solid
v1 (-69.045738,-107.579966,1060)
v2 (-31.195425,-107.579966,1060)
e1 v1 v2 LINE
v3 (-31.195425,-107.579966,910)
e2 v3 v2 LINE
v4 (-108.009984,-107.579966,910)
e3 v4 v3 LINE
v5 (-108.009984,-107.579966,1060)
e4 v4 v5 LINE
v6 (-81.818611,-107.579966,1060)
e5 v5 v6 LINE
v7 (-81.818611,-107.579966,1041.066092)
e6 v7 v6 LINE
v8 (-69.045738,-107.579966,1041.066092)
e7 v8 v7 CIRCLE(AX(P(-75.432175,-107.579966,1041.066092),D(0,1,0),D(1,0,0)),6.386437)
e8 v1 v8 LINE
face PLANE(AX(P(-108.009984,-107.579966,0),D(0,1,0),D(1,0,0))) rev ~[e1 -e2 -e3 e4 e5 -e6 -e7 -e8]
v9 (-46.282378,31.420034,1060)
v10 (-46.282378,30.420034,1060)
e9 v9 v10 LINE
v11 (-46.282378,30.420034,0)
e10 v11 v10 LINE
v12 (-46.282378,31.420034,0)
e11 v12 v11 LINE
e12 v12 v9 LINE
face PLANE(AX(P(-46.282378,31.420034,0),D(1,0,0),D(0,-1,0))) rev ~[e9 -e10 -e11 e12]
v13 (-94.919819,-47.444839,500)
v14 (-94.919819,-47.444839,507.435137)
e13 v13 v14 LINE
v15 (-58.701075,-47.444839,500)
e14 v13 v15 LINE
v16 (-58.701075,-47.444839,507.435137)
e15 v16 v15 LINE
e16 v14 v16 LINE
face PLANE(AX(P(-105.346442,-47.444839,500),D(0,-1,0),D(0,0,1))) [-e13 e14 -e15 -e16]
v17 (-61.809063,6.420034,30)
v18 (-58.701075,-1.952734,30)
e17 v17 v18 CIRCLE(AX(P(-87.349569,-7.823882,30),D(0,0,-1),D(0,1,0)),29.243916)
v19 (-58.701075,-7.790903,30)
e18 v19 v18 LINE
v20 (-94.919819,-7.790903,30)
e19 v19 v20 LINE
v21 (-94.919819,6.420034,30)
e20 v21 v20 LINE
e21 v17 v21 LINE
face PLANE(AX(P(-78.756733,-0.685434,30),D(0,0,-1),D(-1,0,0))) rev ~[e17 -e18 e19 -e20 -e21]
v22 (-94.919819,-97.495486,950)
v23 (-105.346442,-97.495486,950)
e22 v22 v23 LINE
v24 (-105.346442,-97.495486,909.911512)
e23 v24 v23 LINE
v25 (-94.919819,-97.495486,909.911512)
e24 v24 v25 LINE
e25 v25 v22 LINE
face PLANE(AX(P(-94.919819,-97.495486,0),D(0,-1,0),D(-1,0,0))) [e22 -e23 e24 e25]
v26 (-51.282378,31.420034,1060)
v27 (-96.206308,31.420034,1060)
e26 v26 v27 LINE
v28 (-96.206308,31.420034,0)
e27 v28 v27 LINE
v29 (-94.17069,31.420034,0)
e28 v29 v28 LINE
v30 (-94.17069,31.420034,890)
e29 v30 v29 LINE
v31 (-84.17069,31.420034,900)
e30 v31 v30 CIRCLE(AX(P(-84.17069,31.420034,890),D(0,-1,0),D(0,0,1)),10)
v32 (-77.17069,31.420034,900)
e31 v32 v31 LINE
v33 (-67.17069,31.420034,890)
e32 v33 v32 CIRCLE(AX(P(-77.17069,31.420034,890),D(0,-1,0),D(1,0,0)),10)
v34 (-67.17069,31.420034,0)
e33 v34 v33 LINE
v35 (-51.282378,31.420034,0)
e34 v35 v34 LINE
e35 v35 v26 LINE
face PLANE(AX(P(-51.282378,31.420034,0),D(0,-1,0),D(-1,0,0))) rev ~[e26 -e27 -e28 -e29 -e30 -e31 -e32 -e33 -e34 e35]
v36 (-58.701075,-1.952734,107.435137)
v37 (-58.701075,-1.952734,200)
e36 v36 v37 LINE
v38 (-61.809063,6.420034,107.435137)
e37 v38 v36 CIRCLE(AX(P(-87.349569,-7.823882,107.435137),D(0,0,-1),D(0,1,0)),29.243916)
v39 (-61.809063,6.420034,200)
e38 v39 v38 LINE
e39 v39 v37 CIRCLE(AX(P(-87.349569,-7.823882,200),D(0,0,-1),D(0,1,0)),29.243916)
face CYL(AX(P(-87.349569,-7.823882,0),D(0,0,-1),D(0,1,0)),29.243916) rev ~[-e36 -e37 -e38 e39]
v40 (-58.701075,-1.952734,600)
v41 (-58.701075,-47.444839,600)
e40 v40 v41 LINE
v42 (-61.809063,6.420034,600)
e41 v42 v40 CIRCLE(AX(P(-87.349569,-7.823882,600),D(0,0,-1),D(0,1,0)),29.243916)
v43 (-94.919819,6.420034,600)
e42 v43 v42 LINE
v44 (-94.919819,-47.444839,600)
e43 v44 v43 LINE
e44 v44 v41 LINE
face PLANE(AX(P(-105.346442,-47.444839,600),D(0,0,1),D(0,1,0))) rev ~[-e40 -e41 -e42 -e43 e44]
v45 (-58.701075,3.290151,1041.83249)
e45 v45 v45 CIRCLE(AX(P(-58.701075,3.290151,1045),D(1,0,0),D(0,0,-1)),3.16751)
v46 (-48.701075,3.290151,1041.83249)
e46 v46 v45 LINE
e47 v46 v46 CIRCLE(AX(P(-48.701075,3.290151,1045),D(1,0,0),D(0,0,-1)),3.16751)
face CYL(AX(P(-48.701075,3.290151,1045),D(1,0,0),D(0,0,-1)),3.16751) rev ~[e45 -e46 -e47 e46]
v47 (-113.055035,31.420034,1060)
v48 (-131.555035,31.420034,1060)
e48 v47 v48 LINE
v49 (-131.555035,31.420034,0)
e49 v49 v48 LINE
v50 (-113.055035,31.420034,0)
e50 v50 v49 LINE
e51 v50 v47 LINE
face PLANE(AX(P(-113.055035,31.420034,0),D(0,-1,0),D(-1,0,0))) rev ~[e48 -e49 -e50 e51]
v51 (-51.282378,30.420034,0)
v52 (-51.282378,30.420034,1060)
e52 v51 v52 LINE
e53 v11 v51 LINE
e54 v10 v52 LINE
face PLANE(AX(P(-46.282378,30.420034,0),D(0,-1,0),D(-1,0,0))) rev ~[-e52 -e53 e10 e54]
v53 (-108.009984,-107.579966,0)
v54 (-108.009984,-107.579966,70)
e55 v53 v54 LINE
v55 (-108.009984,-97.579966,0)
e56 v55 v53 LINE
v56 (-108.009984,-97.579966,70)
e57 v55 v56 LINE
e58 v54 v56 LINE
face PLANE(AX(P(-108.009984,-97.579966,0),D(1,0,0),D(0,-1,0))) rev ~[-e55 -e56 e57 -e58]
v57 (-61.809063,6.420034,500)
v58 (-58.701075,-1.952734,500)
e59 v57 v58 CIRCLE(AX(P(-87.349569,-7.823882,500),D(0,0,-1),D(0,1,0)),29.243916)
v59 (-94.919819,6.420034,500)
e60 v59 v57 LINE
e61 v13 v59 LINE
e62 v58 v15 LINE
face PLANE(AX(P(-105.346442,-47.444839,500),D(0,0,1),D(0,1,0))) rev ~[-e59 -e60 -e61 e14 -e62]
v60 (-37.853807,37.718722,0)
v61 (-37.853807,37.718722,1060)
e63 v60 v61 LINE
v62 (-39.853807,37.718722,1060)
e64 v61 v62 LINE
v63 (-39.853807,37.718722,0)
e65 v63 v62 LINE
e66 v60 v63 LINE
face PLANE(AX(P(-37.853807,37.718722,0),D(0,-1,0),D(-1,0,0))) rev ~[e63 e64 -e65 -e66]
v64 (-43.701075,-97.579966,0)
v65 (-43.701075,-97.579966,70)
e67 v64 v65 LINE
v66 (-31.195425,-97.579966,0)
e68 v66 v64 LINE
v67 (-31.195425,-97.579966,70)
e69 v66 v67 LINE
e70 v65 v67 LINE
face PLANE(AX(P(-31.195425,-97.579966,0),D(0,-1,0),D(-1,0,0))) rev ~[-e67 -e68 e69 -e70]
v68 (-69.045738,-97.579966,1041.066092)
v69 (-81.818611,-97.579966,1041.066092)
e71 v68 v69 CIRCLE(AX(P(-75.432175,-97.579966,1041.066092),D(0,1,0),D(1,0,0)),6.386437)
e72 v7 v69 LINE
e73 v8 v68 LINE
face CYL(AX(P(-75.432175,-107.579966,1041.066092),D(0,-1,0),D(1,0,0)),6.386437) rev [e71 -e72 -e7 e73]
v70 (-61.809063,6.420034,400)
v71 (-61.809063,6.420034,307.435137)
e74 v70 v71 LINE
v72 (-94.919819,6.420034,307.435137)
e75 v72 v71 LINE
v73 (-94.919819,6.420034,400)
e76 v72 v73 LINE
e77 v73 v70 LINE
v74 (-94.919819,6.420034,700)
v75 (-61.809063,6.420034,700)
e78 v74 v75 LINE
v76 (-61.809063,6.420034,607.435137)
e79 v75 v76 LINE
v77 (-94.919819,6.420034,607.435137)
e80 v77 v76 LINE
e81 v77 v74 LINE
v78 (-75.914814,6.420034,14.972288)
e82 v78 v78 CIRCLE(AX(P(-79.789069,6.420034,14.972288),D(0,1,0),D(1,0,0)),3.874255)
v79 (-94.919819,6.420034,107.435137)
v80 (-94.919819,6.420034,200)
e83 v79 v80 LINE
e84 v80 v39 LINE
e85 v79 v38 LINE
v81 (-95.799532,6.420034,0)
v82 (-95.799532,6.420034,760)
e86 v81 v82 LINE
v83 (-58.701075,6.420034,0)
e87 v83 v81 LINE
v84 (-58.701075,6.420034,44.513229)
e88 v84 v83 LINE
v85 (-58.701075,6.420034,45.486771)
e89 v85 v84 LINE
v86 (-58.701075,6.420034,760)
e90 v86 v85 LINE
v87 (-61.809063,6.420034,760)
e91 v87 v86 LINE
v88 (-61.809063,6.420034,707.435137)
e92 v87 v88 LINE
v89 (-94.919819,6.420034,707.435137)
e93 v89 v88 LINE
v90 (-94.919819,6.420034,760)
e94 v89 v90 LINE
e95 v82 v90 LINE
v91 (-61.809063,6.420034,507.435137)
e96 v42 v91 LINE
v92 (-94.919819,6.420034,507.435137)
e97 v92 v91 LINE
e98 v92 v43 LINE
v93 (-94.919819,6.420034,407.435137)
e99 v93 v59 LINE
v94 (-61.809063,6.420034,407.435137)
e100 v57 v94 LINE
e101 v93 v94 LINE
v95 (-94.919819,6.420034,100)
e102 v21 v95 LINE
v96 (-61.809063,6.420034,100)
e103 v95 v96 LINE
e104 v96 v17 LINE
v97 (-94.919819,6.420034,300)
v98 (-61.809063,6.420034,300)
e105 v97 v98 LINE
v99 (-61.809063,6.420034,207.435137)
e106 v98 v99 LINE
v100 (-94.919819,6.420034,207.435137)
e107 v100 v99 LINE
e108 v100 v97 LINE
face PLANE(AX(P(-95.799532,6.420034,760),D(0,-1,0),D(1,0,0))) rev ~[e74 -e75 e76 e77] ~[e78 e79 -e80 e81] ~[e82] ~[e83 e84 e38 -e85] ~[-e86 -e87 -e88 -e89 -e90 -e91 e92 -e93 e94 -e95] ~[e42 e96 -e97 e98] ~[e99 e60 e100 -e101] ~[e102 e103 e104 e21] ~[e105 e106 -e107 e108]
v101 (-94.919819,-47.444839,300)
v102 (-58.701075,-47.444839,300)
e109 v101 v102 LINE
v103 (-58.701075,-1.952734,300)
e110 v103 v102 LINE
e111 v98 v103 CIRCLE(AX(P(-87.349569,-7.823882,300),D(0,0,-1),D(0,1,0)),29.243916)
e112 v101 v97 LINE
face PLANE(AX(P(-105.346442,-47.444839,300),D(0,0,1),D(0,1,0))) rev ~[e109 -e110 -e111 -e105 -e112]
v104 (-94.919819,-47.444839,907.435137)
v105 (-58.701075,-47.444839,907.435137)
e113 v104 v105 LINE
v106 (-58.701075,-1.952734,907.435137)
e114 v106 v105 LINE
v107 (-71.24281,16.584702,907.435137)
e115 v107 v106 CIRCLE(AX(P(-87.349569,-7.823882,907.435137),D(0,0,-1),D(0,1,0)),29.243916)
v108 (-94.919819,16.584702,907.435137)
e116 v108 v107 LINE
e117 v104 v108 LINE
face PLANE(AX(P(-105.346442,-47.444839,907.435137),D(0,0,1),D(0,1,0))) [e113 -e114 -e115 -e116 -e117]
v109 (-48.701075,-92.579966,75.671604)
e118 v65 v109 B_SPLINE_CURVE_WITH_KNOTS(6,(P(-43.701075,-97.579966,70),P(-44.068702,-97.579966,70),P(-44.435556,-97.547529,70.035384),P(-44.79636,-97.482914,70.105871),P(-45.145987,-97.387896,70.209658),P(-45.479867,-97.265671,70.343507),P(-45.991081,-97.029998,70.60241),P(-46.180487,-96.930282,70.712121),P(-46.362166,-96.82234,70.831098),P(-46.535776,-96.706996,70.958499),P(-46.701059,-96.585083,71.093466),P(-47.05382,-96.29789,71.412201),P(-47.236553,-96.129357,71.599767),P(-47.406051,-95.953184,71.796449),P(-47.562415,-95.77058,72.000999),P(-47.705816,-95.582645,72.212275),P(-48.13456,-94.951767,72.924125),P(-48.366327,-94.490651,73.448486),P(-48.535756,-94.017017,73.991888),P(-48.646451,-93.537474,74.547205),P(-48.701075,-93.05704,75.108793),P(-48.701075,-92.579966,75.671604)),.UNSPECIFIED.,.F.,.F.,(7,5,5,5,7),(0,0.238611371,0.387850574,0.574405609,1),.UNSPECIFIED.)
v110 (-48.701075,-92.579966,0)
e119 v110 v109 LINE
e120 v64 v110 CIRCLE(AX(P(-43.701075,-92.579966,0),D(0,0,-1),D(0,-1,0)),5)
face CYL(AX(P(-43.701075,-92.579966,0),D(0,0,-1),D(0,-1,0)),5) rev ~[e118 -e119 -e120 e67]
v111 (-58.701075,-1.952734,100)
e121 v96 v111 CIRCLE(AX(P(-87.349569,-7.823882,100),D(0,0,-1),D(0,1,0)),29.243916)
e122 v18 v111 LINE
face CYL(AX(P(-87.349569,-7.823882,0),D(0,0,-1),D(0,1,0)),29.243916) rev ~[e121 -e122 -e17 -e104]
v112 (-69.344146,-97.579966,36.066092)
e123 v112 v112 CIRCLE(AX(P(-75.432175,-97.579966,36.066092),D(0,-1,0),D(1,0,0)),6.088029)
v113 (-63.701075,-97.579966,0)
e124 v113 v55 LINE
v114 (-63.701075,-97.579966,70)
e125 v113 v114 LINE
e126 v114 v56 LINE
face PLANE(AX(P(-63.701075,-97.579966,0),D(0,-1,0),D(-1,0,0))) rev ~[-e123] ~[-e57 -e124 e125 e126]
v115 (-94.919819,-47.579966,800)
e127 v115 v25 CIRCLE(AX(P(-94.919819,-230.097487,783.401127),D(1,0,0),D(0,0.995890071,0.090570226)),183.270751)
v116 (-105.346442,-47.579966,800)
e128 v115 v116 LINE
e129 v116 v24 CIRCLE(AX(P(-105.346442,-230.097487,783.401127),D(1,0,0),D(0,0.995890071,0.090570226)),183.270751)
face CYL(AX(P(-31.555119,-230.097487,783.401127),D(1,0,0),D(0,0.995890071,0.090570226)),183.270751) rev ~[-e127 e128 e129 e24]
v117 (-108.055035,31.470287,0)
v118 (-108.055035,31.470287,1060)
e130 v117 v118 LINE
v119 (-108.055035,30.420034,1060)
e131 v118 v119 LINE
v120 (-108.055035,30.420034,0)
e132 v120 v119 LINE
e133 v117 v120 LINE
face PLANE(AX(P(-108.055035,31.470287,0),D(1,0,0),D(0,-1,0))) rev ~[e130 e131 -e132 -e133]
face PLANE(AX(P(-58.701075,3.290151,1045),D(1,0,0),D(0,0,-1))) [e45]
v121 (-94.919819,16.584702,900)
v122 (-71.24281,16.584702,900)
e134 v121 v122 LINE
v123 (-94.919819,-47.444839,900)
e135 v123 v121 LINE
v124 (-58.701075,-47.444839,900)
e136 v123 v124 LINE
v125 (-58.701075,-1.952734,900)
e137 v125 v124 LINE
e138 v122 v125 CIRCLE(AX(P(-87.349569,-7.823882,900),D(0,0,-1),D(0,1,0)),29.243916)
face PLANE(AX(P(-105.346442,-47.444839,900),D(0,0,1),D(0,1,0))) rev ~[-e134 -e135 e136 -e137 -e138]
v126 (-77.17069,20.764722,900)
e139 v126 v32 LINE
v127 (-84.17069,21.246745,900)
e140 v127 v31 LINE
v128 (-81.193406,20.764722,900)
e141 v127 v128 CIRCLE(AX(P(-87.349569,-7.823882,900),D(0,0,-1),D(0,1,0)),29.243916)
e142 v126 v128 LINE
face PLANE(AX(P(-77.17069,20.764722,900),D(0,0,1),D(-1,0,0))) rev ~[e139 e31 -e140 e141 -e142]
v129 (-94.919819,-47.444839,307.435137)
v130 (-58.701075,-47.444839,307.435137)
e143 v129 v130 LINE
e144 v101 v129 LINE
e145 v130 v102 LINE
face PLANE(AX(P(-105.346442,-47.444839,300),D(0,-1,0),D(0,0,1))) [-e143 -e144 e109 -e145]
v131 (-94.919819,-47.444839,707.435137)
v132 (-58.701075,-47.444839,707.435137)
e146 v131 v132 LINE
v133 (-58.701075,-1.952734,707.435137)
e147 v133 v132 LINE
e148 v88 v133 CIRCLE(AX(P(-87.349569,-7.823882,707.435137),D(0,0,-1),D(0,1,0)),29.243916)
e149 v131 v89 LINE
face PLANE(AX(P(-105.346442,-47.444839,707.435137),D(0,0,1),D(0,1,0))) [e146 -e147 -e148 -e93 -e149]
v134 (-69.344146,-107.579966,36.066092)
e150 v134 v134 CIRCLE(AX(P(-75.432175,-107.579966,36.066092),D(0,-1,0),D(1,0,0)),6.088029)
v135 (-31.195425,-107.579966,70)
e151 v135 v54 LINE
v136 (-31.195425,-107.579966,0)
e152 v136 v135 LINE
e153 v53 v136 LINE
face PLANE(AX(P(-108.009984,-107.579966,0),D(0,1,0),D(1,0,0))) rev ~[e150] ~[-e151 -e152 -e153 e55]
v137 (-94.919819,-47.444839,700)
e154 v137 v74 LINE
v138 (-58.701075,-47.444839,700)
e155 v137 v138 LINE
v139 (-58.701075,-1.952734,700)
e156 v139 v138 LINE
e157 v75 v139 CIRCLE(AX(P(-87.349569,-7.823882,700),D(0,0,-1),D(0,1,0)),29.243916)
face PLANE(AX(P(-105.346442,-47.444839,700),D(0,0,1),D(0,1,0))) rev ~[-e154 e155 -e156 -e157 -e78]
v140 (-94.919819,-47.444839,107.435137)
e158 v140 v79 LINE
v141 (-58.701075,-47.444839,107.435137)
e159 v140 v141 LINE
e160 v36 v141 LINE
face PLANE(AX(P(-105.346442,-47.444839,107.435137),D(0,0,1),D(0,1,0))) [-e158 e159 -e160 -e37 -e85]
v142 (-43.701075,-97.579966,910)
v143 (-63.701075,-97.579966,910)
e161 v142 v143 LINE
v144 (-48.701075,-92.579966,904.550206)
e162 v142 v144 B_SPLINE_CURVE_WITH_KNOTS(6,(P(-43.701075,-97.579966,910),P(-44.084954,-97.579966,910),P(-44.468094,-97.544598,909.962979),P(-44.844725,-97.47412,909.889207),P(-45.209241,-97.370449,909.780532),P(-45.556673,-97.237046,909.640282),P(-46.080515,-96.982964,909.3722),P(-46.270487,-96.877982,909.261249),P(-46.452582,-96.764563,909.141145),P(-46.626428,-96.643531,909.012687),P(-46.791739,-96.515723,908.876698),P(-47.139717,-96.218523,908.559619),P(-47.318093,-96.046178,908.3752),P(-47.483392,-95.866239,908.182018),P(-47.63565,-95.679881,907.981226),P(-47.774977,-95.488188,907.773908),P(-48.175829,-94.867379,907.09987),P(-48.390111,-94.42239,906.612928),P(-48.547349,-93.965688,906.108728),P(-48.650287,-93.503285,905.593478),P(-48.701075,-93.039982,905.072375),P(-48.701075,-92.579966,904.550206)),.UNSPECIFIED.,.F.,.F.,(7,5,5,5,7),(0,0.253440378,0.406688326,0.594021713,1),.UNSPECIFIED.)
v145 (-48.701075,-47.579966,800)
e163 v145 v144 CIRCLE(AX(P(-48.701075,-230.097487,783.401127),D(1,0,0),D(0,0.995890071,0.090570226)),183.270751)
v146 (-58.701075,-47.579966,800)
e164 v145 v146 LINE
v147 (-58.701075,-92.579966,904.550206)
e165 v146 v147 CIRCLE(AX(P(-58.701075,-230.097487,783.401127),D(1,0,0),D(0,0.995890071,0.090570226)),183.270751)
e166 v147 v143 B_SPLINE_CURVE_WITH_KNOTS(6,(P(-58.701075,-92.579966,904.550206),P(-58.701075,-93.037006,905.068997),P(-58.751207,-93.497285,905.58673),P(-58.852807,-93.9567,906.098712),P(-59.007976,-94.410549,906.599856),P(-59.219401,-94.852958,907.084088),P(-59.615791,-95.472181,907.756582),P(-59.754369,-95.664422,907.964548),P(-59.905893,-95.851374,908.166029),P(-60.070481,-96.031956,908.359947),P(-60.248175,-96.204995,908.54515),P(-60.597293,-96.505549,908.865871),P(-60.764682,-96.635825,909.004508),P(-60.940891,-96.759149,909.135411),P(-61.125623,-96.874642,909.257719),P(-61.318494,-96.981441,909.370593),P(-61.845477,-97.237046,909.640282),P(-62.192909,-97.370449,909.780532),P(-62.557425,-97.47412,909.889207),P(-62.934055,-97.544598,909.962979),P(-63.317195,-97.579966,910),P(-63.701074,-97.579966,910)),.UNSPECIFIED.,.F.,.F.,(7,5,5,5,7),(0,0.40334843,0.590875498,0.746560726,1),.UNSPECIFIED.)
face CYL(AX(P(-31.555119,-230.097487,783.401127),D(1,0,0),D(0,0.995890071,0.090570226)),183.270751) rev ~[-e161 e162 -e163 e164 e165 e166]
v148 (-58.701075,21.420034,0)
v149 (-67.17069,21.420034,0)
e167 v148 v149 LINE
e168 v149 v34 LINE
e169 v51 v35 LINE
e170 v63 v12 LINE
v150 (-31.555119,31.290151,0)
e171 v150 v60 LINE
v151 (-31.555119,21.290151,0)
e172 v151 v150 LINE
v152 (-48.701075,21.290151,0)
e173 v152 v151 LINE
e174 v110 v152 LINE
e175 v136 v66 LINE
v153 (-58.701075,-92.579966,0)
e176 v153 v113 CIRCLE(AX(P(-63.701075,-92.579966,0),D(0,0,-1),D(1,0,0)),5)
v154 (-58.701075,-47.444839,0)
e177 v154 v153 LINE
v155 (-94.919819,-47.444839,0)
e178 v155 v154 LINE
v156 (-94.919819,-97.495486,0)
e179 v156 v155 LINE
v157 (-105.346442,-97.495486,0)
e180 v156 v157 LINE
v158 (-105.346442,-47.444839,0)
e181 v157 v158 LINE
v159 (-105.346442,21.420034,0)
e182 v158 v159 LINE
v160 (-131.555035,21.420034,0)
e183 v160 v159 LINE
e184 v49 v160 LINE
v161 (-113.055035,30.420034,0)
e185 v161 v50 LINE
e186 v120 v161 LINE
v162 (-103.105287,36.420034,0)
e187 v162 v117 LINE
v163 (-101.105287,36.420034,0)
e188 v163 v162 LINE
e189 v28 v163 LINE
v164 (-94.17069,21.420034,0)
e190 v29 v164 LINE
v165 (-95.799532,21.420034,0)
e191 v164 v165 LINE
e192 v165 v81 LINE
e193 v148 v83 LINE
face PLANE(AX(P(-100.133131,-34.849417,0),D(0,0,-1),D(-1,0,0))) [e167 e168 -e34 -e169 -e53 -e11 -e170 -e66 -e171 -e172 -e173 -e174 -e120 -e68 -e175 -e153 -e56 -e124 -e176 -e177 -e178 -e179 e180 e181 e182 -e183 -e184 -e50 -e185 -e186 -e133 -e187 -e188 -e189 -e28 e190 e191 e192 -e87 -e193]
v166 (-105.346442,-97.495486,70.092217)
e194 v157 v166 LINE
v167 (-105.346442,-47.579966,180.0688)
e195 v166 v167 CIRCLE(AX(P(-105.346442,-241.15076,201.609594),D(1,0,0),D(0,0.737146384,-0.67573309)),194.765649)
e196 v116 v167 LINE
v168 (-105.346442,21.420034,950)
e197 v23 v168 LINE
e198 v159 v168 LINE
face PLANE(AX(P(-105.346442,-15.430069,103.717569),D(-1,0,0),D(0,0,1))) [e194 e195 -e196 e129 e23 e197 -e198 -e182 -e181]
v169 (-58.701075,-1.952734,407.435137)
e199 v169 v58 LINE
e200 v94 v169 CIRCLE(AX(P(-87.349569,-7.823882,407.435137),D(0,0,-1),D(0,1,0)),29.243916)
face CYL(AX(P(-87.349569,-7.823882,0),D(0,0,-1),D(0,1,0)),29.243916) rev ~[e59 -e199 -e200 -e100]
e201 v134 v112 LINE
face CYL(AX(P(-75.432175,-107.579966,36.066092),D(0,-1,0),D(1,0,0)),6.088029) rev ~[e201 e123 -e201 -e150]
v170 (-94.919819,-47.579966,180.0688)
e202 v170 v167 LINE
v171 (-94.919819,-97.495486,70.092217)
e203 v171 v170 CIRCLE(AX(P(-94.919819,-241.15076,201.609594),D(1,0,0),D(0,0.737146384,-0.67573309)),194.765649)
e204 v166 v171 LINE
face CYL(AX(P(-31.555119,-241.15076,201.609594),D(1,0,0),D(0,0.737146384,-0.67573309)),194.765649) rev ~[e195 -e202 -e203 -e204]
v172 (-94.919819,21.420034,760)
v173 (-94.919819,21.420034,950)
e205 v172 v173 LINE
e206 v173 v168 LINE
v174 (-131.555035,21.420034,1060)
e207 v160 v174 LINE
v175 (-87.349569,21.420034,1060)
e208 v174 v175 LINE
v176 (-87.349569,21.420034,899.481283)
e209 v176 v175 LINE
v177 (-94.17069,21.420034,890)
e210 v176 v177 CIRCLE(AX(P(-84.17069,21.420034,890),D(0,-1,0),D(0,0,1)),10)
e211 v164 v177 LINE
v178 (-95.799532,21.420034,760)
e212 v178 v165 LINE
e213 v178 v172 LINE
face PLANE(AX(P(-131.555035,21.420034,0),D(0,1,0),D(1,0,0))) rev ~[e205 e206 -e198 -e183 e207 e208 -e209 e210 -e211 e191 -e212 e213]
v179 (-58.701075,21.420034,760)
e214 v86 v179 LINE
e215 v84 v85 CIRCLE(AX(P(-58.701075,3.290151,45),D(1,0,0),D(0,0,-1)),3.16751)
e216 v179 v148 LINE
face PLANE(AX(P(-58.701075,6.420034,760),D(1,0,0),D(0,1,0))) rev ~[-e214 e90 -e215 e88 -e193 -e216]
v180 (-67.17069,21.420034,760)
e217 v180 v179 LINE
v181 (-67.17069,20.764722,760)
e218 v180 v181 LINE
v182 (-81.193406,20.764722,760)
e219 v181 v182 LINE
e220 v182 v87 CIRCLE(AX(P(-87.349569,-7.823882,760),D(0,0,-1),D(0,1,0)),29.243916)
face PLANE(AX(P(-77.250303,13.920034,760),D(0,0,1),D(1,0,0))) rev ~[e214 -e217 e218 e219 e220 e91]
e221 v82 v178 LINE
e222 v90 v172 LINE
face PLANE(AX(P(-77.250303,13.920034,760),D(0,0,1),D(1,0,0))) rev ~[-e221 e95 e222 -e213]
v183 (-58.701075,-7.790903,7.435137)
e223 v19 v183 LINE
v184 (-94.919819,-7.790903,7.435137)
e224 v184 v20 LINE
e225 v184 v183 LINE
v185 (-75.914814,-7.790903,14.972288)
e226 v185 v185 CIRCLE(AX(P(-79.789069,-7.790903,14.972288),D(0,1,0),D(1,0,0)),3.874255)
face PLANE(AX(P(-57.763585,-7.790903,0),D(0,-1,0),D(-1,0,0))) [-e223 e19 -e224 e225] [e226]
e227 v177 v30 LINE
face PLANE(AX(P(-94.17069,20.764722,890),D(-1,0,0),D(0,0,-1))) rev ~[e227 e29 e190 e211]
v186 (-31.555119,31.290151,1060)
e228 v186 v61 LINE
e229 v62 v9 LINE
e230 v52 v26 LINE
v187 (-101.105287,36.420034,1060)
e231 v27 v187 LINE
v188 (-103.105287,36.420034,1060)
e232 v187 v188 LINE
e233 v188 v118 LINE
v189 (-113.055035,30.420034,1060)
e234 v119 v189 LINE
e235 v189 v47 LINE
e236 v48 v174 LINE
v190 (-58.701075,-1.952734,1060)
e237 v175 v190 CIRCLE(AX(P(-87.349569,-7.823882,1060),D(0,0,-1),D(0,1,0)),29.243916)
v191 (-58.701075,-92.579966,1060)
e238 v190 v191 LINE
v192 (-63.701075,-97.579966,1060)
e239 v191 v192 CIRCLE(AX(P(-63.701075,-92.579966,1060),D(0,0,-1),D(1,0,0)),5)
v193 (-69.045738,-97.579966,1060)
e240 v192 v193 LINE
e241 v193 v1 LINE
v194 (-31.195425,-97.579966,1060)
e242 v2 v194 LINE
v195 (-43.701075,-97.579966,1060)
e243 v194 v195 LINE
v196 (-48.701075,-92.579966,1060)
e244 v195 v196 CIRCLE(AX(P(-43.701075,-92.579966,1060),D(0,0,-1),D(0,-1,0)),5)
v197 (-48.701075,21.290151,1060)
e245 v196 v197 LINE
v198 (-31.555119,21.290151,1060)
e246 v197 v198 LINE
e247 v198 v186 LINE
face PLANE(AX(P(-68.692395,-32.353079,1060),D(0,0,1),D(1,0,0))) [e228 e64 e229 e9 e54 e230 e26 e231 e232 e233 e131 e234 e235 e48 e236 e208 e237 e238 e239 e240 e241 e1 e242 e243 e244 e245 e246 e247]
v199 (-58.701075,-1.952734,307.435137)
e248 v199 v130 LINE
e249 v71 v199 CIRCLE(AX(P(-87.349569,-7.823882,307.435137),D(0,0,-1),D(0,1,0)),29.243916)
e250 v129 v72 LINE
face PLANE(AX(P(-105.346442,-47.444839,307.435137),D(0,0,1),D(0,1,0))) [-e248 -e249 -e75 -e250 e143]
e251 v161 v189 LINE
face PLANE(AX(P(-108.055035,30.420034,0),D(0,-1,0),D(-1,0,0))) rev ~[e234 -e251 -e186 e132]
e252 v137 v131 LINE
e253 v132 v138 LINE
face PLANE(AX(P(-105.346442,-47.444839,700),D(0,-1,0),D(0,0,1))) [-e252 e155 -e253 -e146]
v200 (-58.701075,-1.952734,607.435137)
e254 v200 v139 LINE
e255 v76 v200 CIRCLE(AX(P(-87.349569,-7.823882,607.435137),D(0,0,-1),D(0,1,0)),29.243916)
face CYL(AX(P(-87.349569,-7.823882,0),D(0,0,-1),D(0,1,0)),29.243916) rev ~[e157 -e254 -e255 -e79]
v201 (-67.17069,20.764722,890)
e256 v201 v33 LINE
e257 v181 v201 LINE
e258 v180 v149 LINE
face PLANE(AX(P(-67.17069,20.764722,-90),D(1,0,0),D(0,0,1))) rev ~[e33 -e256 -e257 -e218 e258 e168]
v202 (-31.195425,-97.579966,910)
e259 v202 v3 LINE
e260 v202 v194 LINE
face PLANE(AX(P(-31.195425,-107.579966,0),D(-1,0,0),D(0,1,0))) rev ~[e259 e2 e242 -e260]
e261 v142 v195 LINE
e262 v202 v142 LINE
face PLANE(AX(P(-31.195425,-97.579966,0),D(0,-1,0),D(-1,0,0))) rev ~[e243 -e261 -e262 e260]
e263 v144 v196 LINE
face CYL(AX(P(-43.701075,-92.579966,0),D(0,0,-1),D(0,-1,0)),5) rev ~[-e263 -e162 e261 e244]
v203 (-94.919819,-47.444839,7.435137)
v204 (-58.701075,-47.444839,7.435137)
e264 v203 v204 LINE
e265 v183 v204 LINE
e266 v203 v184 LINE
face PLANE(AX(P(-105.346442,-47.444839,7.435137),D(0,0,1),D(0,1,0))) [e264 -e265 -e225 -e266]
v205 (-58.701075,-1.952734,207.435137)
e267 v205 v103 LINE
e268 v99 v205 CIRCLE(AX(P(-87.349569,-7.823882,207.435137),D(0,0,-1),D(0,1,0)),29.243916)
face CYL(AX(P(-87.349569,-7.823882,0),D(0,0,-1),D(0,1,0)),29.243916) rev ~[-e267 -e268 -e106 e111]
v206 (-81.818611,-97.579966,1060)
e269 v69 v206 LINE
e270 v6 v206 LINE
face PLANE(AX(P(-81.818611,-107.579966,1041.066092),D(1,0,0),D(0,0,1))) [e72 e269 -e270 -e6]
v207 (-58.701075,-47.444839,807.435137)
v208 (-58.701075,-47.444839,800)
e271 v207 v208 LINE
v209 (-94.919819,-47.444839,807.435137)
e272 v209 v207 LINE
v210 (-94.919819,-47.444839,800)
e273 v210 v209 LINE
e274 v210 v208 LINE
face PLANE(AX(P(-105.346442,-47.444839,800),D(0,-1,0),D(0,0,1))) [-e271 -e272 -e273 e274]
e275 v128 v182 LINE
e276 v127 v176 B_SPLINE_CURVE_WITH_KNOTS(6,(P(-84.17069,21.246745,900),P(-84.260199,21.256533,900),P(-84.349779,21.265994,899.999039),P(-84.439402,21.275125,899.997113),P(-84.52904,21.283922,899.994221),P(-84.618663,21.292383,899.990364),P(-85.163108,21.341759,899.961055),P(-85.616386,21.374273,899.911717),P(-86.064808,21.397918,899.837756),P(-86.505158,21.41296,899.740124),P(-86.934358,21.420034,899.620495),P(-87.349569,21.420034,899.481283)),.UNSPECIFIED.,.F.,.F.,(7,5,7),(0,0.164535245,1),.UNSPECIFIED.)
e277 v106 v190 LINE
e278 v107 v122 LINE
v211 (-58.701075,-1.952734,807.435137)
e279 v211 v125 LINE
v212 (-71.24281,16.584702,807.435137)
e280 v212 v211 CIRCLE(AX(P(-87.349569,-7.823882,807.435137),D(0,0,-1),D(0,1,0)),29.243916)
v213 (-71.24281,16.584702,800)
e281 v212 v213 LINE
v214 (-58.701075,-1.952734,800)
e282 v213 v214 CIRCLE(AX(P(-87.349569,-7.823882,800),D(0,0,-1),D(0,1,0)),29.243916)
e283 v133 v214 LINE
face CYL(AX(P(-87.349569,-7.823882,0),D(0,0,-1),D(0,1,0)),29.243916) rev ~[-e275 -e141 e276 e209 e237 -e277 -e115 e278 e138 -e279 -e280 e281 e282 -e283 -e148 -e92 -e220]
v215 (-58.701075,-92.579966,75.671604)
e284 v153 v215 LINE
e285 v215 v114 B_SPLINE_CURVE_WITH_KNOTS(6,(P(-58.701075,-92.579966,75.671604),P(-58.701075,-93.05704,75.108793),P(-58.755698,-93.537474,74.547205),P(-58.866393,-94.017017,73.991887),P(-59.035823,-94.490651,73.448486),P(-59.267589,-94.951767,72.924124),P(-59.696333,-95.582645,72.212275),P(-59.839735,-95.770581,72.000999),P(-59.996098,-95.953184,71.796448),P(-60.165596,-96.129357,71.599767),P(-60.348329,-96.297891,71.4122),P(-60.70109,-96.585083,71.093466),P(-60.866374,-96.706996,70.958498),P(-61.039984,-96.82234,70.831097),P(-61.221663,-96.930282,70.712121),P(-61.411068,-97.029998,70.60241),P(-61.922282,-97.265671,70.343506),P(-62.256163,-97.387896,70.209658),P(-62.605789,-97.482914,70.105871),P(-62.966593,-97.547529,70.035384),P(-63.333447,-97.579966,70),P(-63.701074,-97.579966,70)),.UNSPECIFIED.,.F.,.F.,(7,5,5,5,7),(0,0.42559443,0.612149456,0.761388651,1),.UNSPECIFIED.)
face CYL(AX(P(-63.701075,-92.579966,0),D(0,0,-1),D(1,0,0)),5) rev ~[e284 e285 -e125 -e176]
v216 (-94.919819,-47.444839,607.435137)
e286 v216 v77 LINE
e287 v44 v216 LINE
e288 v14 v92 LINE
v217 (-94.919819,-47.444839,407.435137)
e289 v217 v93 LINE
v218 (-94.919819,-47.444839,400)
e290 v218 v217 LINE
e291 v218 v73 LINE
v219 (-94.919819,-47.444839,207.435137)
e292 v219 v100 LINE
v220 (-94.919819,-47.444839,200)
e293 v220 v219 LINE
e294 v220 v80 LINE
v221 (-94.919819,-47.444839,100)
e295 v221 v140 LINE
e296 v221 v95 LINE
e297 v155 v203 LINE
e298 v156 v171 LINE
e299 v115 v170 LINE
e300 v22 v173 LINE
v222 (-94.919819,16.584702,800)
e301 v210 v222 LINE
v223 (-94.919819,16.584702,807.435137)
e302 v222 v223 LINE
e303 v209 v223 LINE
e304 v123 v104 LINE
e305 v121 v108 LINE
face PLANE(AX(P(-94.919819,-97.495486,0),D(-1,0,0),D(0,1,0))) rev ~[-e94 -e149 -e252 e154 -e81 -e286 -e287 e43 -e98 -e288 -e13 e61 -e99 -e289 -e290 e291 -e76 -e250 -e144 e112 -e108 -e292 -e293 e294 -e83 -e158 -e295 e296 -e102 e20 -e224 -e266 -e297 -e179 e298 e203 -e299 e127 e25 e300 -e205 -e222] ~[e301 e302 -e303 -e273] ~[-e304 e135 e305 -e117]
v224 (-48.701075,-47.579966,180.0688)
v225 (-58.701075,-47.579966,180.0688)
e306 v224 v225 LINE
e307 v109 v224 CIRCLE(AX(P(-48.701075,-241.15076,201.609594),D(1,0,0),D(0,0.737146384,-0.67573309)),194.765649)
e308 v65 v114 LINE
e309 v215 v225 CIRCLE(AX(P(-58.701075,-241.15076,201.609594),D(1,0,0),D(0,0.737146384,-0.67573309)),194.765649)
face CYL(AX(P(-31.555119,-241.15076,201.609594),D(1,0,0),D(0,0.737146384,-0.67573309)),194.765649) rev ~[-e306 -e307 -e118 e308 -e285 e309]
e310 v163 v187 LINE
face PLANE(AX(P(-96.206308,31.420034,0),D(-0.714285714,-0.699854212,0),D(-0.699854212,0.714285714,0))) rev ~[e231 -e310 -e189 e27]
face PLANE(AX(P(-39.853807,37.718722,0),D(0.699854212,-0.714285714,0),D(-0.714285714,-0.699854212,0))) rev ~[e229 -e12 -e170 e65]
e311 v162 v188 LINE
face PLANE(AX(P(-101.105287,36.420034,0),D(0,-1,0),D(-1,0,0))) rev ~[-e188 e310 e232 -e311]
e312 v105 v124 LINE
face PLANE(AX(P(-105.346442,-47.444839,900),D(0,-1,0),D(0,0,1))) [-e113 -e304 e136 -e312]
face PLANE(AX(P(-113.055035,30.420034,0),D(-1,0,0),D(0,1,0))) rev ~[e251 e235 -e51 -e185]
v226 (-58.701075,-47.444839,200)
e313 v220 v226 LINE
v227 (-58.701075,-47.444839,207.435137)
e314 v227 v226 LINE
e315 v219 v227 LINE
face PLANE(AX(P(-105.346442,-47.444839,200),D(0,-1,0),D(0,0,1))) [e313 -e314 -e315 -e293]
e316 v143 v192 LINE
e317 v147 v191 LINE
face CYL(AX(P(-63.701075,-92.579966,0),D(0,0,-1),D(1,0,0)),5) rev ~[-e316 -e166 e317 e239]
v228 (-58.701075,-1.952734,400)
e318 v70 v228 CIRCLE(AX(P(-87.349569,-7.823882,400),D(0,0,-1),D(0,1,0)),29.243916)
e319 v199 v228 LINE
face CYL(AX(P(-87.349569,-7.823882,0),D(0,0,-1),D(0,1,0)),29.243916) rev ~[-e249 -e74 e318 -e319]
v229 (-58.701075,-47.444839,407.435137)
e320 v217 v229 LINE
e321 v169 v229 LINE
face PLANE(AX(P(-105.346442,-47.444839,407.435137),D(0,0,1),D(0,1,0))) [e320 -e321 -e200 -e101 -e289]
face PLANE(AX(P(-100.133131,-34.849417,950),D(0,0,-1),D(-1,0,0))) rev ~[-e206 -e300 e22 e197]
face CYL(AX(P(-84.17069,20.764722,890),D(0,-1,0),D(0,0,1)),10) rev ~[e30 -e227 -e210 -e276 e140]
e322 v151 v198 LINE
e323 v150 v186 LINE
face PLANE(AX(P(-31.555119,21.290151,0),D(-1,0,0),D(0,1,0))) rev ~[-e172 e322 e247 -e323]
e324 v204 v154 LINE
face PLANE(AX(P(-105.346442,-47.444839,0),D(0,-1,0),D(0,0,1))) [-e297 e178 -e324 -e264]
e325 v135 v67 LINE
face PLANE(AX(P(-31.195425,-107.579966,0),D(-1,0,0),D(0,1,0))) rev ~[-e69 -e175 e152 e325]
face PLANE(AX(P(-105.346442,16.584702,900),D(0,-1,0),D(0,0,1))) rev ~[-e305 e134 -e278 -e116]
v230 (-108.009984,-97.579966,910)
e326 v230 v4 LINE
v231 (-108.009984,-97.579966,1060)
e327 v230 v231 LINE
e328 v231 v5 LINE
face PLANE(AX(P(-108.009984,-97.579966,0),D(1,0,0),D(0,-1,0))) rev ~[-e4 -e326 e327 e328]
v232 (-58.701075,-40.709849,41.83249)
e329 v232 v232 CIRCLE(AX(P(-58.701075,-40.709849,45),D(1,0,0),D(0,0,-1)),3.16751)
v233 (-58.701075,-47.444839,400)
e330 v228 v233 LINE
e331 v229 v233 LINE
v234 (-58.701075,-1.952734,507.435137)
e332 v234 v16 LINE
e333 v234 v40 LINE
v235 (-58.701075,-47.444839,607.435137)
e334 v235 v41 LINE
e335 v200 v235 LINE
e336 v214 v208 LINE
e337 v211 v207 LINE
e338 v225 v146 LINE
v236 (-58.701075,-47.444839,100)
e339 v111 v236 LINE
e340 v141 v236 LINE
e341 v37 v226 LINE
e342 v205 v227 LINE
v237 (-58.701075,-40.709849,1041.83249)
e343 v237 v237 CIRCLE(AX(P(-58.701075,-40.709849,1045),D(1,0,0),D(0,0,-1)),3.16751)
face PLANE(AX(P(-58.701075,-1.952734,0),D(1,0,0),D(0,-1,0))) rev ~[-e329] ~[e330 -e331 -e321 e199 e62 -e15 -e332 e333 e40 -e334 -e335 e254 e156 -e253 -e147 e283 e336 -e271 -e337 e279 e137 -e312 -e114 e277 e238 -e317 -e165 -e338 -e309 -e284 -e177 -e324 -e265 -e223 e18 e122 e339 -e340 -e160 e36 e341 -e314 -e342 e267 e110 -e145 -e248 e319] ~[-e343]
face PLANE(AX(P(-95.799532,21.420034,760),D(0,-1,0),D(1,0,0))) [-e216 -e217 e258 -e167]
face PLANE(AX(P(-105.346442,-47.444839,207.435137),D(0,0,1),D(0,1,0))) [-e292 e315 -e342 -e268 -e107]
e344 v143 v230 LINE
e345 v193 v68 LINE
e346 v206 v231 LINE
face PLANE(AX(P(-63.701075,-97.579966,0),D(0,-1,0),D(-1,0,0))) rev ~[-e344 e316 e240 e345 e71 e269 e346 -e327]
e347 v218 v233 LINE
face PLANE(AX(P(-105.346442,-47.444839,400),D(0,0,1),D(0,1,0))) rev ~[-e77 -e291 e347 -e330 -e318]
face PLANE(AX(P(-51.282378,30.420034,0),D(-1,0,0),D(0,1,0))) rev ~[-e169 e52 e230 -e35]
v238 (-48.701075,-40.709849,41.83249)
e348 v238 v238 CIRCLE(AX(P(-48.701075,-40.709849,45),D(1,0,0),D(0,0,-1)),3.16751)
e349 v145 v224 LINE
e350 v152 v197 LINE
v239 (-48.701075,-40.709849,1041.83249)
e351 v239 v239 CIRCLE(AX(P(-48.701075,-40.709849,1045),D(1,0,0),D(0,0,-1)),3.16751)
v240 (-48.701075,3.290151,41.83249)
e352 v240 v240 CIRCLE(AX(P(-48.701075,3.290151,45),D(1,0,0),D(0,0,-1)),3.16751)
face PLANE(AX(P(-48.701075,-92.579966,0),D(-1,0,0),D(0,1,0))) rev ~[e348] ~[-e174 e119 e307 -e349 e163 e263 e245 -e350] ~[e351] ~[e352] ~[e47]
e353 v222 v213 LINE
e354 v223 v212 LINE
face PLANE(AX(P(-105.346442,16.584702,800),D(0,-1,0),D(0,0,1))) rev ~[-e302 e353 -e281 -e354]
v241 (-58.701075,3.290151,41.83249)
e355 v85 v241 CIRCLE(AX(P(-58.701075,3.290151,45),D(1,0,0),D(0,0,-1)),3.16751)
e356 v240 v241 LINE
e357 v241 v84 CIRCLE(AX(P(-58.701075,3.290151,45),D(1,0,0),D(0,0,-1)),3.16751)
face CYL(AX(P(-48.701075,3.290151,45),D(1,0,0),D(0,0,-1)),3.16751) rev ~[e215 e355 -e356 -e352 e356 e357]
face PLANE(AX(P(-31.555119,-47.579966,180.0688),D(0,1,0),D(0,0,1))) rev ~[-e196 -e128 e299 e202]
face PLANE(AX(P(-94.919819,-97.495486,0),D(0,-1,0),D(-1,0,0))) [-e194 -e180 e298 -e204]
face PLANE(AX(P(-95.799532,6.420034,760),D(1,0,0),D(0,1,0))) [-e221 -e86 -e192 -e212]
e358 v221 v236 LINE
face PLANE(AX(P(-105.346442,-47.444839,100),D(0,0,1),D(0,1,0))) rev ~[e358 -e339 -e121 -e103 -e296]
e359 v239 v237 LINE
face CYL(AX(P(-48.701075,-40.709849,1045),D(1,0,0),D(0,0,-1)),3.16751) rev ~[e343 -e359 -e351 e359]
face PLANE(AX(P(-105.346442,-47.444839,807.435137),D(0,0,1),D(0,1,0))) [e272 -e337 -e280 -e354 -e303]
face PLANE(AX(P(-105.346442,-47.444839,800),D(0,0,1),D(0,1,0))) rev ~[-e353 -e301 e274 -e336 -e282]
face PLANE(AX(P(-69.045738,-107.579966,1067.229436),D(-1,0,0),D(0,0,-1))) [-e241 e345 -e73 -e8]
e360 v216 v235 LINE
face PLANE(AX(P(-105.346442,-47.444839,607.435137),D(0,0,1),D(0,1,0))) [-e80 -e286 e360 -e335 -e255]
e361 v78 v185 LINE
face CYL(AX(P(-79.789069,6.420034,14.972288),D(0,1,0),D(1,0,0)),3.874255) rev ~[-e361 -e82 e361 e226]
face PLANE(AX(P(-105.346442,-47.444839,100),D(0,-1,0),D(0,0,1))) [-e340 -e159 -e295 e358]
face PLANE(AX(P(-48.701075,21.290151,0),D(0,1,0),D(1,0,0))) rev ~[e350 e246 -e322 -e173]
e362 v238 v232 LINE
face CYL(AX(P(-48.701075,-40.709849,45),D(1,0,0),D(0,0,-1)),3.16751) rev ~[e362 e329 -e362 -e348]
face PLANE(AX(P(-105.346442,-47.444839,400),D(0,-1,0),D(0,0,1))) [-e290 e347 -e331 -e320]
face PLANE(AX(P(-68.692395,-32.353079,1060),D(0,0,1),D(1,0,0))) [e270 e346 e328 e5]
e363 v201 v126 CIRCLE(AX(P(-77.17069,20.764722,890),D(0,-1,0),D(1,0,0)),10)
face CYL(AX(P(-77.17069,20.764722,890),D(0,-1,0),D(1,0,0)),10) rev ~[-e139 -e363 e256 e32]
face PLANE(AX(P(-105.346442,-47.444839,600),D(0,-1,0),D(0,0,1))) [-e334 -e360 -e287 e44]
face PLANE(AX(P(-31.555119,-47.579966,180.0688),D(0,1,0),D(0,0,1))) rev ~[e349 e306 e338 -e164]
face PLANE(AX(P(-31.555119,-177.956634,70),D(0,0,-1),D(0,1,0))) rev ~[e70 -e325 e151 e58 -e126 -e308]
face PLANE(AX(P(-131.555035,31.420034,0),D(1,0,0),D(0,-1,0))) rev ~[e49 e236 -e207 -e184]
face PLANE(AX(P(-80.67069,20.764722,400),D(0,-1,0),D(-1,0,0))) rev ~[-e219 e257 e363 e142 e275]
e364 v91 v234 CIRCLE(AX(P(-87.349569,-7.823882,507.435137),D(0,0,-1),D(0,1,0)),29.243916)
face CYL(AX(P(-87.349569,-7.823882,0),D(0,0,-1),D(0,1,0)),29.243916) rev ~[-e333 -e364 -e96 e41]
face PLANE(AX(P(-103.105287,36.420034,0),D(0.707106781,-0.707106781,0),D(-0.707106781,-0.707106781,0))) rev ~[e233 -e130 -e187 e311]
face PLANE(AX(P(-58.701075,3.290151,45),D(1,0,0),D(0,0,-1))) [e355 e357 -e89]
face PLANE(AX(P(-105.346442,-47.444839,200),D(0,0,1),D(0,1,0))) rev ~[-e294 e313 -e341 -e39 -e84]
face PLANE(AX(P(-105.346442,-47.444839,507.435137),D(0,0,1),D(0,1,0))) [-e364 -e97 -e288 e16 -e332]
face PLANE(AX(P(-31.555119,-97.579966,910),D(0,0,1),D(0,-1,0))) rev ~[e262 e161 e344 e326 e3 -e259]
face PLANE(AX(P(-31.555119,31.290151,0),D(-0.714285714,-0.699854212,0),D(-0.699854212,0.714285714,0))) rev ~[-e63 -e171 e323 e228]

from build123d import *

# Parameters (mm, degrees)
BOSS_EXTRUDE1_DEPTH         = 1060
CUT_EXTRUDE1_DEPTH          = 800
SKETCH5_W                   = 10.426623187
SKETCH5_H                   = 125.292137731
BOSS_EXTRUDE2_DEPTH         = 950
SKETCH6_W                   = 7.435137382
SKETCH6_H                   = 64.029540506
BOSS_EXTRUDE3_DEPTH         = 50
LPATTERN1_COUNT             = 10
LPATTERN1_PITCH             = 100
CUT_EXTRUDE3_DEPTH          = 10
CUT_EXTRUDE3_DEPTH_BACK     = 100
CUT_EXTRUDE2_START          = -300
SKETCH3_W                   = 37.098457344
SKETCH3_H                   = 15
CUT_EXTRUDE2_DEPTH          = 1000
SKETCH7_W                   = 41.986295648
SKETCH7_H                   = 14.210937294
BOSS_EXTRUDE4_DEPTH         = 30
SKETCH8_R                   = 3.874254892
CUT_EXTRUDE4_DEPTH          = 30
SKETCH_1_R                  = 3.167509586
CUT_EXTRUDE_1_DEPTH         = 10
PATTERN_LINEAR_1_COUNT      = 2
PATTERN_LINEAR_1_PITCH      = 44
PATTERN_LINEAR_1_COUNT_DIR2 = 2
PATTERN_LINEAR_1_PITCH_DIR2 = 1000
SKETCH9_R                   = 6.088028913
CUT_EXTRUDE5_DEPTH          = 10
LPATTERN2_COUNT             = 2
LPATTERN2_PITCH             = 1005
CUT_EXTRUDE6_DEPTH          = 10


with BuildPart() as part:
    # Sketch1 → Boss-Extrude1 (new body)
    with BuildSketch(Plane.XY):
        with BuildLine():
            Line((-31.555119126, 31.290150882), (-37.853807036, 37.718722311))
            Line((-37.853807036, 37.718722311), (-39.853807036, 37.718722311))
            Line((-39.853807036, 37.718722311), (-46.282378465, 31.420034401))
            Line((-46.282378465, 31.420034401), (-46.282378465, 30.420034401))
            Line((-46.282378465, 30.420034401), (-51.282378465, 30.420034401))
            Line((-51.282378465, 30.420034401), (-51.282378465, 31.420034401))
            Line((-51.282378465, 31.420034401), (-96.206307824, 31.420034401))
            Line((-96.206307824, 31.420034401), (-101.105287309, 36.420034401))
            Line((-101.105287309, 36.420034401), (-103.105287309, 36.420034401))
            Line((-103.105287309, 36.420034401), (-108.055034777, 31.470286932))
            Line((-108.055034777, 31.470286932), (-108.055034777, 30.420034401))
            Line((-108.055034777, 30.420034401), (-113.055034777, 30.420034401))
            Line((-113.055034777, 30.420034401), (-113.055034777, 31.420034401))
            Line((-113.055034777, 31.420034401), (-131.555034777, 31.420034401))
            Line((-131.555034777, 31.420034401), (-131.555034777, 21.420034401))
            Line((-131.555034777, 21.420034401), (-87.349569261, 21.420034401))
            ThreePointArc((-87.349569261, 21.420034401), (-68.862935324, 14.835575372), (-58.701074529, -1.95273366))
            Line((-58.701074529, -1.95273366), (-58.701074529, -92.579965599))
            ThreePointArc((-58.701074529, -92.579965599), (-60.165540623, -96.115499505), (-63.701074529, -97.579965599))
            Line((-63.701074529, -97.579965599), (-108.009983562, -97.579965599))
            Line((-108.009983562, -97.579965599), (-108.009983562, -107.579965599))
            Line((-108.009983562, -107.579965599), (-31.195424592, -107.579965599))
            Line((-31.195424592, -107.579965599), (-31.195424592, -97.579965599))
            Line((-31.195424592, -97.579965599), (-43.701074529, -97.579965599))
            ThreePointArc((-43.701074529, -97.579965599), (-47.236608435, -96.115499505), (-48.701074529, -92.579965599))
            Line((-48.701074529, -92.579965599), (-48.701074529, 21.290150882))
            Line((-48.701074529, 21.290150882), (-31.555119126, 21.290150882))
            Line((-31.555119126, 21.290150882), (-31.555119126, 31.290150882))
        make_face()
    extrude(amount=BOSS_EXTRUDE1_DEPTH)

    # Sketch2 → Cut-Extrude1 (cut)
    with BuildSketch(Plane(origin=(0, 20.764722339, 0), x_dir=(1, 0, 0), z_dir=(0, 1, 0))):
        with BuildLine():
            Line((-84.170689991, 100), (-77.170689991, 100))
            ThreePointArc((-77.170689991, 100), (-70.099622179, 97.071067812), (-67.170689991, 90))
            Line((-67.170689991, 90), (-67.170689991, -890))
            ThreePointArc((-67.170689991, -890), (-70.099622179, -897.071067812), (-77.170689991, -900))
            Line((-77.170689991, -900), (-84.170689991, -900))
            ThreePointArc((-84.170689991, -900), (-91.241757803, -897.071067812), (-94.170689991, -890))
            Line((-94.170689991, -890), (-94.170689991, 90))
            ThreePointArc((-94.170689991, 90), (-91.241757803, 97.071067812), (-84.170689991, 100))
        make_face()
    extrude(amount=CUT_EXTRUDE1_DEPTH, mode=Mode.SUBTRACT)

    # Sketch5 → Boss-Extrude2 (add)
    with BuildSketch(Plane(origin=(0, 0, 0), x_dir=(-1, 0, 0), z_dir=(0, 0, -1))):
        with Locations((100.133130522, -34.849417223)):
            Rectangle(SKETCH5_W, SKETCH5_H)
    extrude(amount=-BOSS_EXTRUDE2_DEPTH)

    # Sketch6 → Boss-Extrude3 (add)
    with BuildSketch(Plane.ZY.offset(105.346442115)):
        with Locations((3.717568691, -15.430068515)):
            Rectangle(SKETCH6_W, SKETCH6_H)
    boss_extrude3 = extrude(amount=-BOSS_EXTRUDE3_DEPTH)

    # LPattern1: Boss-Extrude3 ×10
    with Locations(*[(0, 0, i * LPATTERN1_PITCH) for i in range(1, LPATTERN1_COUNT)]):
        add(boss_extrude3)

    # Sketch4 → Cut-Extrude3 (cut, two sides)
    with BuildSketch(Plane(origin=(-31.555119126, 0, 0), x_dir=(0, 0, -1), z_dir=(1, 0, 0))) as cut_extrude3_sk:
        with BuildLine():
            Line((-910, -97.579965599), (-910, -107.579965599))
            Line((-910, -107.579965599), (-910, -177.956634241))
            Line((-910, -177.956634241), (-70, -177.956634241))
            Line((-70, -177.956634241), (-70, -97.579965599))
            ThreePointArc((-70, -97.579965599), (-121.056751887, -63.823667059), (-180.068799532, -47.579965599))
            Line((-180.068799532, -47.579965599), (-800, -47.579965599))
            ThreePointArc((-800, -47.579965599), (-859.23910305, -63.253938888), (-910, -97.579965599))
        make_face()
    extrude(amount=CUT_EXTRUDE3_DEPTH, mode=Mode.SUBTRACT)
    extrude(cut_extrude3_sk.sketch, amount=-CUT_EXTRUDE3_DEPTH_BACK, mode=Mode.SUBTRACT)

    # Sketch3 → Cut-Extrude2 (cut)
    with BuildSketch(Plane.XY.offset(1060).offset(CUT_EXTRUDE2_START)):
        with Locations((-77.250303201, 13.920034401)):
            Rectangle(SKETCH3_W, SKETCH3_H)
    extrude(amount=-CUT_EXTRUDE2_DEPTH, mode=Mode.SUBTRACT)

    # Sketch7 → Boss-Extrude4 (add)
    with BuildSketch(Plane(origin=(0, 0, 0), x_dir=(-1, 0, 0), z_dir=(0, 0, -1))):
        with Locations((78.756733265, -0.685434246)):
            Rectangle(SKETCH7_W, SKETCH7_H)
    extrude(amount=-BOSS_EXTRUDE4_DEPTH)

    # Sketch8 → Cut-Extrude4 (cut)
    with BuildSketch(Plane(origin=(0, 6.420034401, 0), x_dir=(1, 0, 0), z_dir=(0, 1, 0))):
        with Locations((-79.789069173, -14.972288239)):
            Circle(SKETCH8_R)
    extrude(amount=-CUT_EXTRUDE4_DEPTH, mode=Mode.SUBTRACT)

    # Эскиз1 → Вырез-Вытянуть1 (cut)
    with BuildSketch(Plane(origin=(-48.701074529, 0, 0), x_dir=(0, 0, -1), z_dir=(1, 0, 0))):
        with Locations((-45, 3.290150882)):
            Circle(SKETCH_1_R)
    cut_extrude_1 = extrude(amount=-CUT_EXTRUDE_1_DEPTH, mode=Mode.SUBTRACT)

    # Линейный массив1: Cut-Extrude 1 2 × 2
    with Locations(*[(0, -i * PATTERN_LINEAR_1_PITCH, j * PATTERN_LINEAR_1_PITCH_DIR2) for i in range(PATTERN_LINEAR_1_COUNT) for j in range(PATTERN_LINEAR_1_COUNT_DIR2) if (i, j) != (0, 0)]):
        add(cut_extrude_1, mode=Mode.SUBTRACT)

    # Sketch9 → Cut-Extrude5 (cut)
    with BuildSketch(Plane.XZ.offset(107.579965599)):
        with Locations((-75.432174638, 36.066091654)):
            Circle(SKETCH9_R)
    cut_extrude5 = extrude(amount=-CUT_EXTRUDE5_DEPTH, mode=Mode.SUBTRACT)

    # LPattern2: Cut-Extrude5 ×2
    with Locations(*[(0, 0, i * LPATTERN2_PITCH) for i in range(1, LPATTERN2_COUNT)]):
        add(cut_extrude5, mode=Mode.SUBTRACT)

    # Sketch10 → Cut-Extrude6 (cut)
    with BuildSketch(Plane.XZ.offset(107.579965599)):
        with BuildLine():
            Line((-81.818611273, 1041.066091654), (-81.818611273, 1067.229436247))
            ThreePointArc((-81.818611273, 1067.229436247), (-75.432174638, 1073.615872882), (-69.045738002, 1067.229436247))
            Line((-69.045738002, 1067.229436247), (-69.045738002, 1041.066091654))
            ThreePointArc((-69.045738002, 1041.066091654), (-75.432174638, 1034.679655018), (-81.818611273, 1041.066091654))
        make_face()
    extrude(amount=-CUT_EXTRUDE6_DEPTH, mode=Mode.SUBTRACT)


solid = part.part
